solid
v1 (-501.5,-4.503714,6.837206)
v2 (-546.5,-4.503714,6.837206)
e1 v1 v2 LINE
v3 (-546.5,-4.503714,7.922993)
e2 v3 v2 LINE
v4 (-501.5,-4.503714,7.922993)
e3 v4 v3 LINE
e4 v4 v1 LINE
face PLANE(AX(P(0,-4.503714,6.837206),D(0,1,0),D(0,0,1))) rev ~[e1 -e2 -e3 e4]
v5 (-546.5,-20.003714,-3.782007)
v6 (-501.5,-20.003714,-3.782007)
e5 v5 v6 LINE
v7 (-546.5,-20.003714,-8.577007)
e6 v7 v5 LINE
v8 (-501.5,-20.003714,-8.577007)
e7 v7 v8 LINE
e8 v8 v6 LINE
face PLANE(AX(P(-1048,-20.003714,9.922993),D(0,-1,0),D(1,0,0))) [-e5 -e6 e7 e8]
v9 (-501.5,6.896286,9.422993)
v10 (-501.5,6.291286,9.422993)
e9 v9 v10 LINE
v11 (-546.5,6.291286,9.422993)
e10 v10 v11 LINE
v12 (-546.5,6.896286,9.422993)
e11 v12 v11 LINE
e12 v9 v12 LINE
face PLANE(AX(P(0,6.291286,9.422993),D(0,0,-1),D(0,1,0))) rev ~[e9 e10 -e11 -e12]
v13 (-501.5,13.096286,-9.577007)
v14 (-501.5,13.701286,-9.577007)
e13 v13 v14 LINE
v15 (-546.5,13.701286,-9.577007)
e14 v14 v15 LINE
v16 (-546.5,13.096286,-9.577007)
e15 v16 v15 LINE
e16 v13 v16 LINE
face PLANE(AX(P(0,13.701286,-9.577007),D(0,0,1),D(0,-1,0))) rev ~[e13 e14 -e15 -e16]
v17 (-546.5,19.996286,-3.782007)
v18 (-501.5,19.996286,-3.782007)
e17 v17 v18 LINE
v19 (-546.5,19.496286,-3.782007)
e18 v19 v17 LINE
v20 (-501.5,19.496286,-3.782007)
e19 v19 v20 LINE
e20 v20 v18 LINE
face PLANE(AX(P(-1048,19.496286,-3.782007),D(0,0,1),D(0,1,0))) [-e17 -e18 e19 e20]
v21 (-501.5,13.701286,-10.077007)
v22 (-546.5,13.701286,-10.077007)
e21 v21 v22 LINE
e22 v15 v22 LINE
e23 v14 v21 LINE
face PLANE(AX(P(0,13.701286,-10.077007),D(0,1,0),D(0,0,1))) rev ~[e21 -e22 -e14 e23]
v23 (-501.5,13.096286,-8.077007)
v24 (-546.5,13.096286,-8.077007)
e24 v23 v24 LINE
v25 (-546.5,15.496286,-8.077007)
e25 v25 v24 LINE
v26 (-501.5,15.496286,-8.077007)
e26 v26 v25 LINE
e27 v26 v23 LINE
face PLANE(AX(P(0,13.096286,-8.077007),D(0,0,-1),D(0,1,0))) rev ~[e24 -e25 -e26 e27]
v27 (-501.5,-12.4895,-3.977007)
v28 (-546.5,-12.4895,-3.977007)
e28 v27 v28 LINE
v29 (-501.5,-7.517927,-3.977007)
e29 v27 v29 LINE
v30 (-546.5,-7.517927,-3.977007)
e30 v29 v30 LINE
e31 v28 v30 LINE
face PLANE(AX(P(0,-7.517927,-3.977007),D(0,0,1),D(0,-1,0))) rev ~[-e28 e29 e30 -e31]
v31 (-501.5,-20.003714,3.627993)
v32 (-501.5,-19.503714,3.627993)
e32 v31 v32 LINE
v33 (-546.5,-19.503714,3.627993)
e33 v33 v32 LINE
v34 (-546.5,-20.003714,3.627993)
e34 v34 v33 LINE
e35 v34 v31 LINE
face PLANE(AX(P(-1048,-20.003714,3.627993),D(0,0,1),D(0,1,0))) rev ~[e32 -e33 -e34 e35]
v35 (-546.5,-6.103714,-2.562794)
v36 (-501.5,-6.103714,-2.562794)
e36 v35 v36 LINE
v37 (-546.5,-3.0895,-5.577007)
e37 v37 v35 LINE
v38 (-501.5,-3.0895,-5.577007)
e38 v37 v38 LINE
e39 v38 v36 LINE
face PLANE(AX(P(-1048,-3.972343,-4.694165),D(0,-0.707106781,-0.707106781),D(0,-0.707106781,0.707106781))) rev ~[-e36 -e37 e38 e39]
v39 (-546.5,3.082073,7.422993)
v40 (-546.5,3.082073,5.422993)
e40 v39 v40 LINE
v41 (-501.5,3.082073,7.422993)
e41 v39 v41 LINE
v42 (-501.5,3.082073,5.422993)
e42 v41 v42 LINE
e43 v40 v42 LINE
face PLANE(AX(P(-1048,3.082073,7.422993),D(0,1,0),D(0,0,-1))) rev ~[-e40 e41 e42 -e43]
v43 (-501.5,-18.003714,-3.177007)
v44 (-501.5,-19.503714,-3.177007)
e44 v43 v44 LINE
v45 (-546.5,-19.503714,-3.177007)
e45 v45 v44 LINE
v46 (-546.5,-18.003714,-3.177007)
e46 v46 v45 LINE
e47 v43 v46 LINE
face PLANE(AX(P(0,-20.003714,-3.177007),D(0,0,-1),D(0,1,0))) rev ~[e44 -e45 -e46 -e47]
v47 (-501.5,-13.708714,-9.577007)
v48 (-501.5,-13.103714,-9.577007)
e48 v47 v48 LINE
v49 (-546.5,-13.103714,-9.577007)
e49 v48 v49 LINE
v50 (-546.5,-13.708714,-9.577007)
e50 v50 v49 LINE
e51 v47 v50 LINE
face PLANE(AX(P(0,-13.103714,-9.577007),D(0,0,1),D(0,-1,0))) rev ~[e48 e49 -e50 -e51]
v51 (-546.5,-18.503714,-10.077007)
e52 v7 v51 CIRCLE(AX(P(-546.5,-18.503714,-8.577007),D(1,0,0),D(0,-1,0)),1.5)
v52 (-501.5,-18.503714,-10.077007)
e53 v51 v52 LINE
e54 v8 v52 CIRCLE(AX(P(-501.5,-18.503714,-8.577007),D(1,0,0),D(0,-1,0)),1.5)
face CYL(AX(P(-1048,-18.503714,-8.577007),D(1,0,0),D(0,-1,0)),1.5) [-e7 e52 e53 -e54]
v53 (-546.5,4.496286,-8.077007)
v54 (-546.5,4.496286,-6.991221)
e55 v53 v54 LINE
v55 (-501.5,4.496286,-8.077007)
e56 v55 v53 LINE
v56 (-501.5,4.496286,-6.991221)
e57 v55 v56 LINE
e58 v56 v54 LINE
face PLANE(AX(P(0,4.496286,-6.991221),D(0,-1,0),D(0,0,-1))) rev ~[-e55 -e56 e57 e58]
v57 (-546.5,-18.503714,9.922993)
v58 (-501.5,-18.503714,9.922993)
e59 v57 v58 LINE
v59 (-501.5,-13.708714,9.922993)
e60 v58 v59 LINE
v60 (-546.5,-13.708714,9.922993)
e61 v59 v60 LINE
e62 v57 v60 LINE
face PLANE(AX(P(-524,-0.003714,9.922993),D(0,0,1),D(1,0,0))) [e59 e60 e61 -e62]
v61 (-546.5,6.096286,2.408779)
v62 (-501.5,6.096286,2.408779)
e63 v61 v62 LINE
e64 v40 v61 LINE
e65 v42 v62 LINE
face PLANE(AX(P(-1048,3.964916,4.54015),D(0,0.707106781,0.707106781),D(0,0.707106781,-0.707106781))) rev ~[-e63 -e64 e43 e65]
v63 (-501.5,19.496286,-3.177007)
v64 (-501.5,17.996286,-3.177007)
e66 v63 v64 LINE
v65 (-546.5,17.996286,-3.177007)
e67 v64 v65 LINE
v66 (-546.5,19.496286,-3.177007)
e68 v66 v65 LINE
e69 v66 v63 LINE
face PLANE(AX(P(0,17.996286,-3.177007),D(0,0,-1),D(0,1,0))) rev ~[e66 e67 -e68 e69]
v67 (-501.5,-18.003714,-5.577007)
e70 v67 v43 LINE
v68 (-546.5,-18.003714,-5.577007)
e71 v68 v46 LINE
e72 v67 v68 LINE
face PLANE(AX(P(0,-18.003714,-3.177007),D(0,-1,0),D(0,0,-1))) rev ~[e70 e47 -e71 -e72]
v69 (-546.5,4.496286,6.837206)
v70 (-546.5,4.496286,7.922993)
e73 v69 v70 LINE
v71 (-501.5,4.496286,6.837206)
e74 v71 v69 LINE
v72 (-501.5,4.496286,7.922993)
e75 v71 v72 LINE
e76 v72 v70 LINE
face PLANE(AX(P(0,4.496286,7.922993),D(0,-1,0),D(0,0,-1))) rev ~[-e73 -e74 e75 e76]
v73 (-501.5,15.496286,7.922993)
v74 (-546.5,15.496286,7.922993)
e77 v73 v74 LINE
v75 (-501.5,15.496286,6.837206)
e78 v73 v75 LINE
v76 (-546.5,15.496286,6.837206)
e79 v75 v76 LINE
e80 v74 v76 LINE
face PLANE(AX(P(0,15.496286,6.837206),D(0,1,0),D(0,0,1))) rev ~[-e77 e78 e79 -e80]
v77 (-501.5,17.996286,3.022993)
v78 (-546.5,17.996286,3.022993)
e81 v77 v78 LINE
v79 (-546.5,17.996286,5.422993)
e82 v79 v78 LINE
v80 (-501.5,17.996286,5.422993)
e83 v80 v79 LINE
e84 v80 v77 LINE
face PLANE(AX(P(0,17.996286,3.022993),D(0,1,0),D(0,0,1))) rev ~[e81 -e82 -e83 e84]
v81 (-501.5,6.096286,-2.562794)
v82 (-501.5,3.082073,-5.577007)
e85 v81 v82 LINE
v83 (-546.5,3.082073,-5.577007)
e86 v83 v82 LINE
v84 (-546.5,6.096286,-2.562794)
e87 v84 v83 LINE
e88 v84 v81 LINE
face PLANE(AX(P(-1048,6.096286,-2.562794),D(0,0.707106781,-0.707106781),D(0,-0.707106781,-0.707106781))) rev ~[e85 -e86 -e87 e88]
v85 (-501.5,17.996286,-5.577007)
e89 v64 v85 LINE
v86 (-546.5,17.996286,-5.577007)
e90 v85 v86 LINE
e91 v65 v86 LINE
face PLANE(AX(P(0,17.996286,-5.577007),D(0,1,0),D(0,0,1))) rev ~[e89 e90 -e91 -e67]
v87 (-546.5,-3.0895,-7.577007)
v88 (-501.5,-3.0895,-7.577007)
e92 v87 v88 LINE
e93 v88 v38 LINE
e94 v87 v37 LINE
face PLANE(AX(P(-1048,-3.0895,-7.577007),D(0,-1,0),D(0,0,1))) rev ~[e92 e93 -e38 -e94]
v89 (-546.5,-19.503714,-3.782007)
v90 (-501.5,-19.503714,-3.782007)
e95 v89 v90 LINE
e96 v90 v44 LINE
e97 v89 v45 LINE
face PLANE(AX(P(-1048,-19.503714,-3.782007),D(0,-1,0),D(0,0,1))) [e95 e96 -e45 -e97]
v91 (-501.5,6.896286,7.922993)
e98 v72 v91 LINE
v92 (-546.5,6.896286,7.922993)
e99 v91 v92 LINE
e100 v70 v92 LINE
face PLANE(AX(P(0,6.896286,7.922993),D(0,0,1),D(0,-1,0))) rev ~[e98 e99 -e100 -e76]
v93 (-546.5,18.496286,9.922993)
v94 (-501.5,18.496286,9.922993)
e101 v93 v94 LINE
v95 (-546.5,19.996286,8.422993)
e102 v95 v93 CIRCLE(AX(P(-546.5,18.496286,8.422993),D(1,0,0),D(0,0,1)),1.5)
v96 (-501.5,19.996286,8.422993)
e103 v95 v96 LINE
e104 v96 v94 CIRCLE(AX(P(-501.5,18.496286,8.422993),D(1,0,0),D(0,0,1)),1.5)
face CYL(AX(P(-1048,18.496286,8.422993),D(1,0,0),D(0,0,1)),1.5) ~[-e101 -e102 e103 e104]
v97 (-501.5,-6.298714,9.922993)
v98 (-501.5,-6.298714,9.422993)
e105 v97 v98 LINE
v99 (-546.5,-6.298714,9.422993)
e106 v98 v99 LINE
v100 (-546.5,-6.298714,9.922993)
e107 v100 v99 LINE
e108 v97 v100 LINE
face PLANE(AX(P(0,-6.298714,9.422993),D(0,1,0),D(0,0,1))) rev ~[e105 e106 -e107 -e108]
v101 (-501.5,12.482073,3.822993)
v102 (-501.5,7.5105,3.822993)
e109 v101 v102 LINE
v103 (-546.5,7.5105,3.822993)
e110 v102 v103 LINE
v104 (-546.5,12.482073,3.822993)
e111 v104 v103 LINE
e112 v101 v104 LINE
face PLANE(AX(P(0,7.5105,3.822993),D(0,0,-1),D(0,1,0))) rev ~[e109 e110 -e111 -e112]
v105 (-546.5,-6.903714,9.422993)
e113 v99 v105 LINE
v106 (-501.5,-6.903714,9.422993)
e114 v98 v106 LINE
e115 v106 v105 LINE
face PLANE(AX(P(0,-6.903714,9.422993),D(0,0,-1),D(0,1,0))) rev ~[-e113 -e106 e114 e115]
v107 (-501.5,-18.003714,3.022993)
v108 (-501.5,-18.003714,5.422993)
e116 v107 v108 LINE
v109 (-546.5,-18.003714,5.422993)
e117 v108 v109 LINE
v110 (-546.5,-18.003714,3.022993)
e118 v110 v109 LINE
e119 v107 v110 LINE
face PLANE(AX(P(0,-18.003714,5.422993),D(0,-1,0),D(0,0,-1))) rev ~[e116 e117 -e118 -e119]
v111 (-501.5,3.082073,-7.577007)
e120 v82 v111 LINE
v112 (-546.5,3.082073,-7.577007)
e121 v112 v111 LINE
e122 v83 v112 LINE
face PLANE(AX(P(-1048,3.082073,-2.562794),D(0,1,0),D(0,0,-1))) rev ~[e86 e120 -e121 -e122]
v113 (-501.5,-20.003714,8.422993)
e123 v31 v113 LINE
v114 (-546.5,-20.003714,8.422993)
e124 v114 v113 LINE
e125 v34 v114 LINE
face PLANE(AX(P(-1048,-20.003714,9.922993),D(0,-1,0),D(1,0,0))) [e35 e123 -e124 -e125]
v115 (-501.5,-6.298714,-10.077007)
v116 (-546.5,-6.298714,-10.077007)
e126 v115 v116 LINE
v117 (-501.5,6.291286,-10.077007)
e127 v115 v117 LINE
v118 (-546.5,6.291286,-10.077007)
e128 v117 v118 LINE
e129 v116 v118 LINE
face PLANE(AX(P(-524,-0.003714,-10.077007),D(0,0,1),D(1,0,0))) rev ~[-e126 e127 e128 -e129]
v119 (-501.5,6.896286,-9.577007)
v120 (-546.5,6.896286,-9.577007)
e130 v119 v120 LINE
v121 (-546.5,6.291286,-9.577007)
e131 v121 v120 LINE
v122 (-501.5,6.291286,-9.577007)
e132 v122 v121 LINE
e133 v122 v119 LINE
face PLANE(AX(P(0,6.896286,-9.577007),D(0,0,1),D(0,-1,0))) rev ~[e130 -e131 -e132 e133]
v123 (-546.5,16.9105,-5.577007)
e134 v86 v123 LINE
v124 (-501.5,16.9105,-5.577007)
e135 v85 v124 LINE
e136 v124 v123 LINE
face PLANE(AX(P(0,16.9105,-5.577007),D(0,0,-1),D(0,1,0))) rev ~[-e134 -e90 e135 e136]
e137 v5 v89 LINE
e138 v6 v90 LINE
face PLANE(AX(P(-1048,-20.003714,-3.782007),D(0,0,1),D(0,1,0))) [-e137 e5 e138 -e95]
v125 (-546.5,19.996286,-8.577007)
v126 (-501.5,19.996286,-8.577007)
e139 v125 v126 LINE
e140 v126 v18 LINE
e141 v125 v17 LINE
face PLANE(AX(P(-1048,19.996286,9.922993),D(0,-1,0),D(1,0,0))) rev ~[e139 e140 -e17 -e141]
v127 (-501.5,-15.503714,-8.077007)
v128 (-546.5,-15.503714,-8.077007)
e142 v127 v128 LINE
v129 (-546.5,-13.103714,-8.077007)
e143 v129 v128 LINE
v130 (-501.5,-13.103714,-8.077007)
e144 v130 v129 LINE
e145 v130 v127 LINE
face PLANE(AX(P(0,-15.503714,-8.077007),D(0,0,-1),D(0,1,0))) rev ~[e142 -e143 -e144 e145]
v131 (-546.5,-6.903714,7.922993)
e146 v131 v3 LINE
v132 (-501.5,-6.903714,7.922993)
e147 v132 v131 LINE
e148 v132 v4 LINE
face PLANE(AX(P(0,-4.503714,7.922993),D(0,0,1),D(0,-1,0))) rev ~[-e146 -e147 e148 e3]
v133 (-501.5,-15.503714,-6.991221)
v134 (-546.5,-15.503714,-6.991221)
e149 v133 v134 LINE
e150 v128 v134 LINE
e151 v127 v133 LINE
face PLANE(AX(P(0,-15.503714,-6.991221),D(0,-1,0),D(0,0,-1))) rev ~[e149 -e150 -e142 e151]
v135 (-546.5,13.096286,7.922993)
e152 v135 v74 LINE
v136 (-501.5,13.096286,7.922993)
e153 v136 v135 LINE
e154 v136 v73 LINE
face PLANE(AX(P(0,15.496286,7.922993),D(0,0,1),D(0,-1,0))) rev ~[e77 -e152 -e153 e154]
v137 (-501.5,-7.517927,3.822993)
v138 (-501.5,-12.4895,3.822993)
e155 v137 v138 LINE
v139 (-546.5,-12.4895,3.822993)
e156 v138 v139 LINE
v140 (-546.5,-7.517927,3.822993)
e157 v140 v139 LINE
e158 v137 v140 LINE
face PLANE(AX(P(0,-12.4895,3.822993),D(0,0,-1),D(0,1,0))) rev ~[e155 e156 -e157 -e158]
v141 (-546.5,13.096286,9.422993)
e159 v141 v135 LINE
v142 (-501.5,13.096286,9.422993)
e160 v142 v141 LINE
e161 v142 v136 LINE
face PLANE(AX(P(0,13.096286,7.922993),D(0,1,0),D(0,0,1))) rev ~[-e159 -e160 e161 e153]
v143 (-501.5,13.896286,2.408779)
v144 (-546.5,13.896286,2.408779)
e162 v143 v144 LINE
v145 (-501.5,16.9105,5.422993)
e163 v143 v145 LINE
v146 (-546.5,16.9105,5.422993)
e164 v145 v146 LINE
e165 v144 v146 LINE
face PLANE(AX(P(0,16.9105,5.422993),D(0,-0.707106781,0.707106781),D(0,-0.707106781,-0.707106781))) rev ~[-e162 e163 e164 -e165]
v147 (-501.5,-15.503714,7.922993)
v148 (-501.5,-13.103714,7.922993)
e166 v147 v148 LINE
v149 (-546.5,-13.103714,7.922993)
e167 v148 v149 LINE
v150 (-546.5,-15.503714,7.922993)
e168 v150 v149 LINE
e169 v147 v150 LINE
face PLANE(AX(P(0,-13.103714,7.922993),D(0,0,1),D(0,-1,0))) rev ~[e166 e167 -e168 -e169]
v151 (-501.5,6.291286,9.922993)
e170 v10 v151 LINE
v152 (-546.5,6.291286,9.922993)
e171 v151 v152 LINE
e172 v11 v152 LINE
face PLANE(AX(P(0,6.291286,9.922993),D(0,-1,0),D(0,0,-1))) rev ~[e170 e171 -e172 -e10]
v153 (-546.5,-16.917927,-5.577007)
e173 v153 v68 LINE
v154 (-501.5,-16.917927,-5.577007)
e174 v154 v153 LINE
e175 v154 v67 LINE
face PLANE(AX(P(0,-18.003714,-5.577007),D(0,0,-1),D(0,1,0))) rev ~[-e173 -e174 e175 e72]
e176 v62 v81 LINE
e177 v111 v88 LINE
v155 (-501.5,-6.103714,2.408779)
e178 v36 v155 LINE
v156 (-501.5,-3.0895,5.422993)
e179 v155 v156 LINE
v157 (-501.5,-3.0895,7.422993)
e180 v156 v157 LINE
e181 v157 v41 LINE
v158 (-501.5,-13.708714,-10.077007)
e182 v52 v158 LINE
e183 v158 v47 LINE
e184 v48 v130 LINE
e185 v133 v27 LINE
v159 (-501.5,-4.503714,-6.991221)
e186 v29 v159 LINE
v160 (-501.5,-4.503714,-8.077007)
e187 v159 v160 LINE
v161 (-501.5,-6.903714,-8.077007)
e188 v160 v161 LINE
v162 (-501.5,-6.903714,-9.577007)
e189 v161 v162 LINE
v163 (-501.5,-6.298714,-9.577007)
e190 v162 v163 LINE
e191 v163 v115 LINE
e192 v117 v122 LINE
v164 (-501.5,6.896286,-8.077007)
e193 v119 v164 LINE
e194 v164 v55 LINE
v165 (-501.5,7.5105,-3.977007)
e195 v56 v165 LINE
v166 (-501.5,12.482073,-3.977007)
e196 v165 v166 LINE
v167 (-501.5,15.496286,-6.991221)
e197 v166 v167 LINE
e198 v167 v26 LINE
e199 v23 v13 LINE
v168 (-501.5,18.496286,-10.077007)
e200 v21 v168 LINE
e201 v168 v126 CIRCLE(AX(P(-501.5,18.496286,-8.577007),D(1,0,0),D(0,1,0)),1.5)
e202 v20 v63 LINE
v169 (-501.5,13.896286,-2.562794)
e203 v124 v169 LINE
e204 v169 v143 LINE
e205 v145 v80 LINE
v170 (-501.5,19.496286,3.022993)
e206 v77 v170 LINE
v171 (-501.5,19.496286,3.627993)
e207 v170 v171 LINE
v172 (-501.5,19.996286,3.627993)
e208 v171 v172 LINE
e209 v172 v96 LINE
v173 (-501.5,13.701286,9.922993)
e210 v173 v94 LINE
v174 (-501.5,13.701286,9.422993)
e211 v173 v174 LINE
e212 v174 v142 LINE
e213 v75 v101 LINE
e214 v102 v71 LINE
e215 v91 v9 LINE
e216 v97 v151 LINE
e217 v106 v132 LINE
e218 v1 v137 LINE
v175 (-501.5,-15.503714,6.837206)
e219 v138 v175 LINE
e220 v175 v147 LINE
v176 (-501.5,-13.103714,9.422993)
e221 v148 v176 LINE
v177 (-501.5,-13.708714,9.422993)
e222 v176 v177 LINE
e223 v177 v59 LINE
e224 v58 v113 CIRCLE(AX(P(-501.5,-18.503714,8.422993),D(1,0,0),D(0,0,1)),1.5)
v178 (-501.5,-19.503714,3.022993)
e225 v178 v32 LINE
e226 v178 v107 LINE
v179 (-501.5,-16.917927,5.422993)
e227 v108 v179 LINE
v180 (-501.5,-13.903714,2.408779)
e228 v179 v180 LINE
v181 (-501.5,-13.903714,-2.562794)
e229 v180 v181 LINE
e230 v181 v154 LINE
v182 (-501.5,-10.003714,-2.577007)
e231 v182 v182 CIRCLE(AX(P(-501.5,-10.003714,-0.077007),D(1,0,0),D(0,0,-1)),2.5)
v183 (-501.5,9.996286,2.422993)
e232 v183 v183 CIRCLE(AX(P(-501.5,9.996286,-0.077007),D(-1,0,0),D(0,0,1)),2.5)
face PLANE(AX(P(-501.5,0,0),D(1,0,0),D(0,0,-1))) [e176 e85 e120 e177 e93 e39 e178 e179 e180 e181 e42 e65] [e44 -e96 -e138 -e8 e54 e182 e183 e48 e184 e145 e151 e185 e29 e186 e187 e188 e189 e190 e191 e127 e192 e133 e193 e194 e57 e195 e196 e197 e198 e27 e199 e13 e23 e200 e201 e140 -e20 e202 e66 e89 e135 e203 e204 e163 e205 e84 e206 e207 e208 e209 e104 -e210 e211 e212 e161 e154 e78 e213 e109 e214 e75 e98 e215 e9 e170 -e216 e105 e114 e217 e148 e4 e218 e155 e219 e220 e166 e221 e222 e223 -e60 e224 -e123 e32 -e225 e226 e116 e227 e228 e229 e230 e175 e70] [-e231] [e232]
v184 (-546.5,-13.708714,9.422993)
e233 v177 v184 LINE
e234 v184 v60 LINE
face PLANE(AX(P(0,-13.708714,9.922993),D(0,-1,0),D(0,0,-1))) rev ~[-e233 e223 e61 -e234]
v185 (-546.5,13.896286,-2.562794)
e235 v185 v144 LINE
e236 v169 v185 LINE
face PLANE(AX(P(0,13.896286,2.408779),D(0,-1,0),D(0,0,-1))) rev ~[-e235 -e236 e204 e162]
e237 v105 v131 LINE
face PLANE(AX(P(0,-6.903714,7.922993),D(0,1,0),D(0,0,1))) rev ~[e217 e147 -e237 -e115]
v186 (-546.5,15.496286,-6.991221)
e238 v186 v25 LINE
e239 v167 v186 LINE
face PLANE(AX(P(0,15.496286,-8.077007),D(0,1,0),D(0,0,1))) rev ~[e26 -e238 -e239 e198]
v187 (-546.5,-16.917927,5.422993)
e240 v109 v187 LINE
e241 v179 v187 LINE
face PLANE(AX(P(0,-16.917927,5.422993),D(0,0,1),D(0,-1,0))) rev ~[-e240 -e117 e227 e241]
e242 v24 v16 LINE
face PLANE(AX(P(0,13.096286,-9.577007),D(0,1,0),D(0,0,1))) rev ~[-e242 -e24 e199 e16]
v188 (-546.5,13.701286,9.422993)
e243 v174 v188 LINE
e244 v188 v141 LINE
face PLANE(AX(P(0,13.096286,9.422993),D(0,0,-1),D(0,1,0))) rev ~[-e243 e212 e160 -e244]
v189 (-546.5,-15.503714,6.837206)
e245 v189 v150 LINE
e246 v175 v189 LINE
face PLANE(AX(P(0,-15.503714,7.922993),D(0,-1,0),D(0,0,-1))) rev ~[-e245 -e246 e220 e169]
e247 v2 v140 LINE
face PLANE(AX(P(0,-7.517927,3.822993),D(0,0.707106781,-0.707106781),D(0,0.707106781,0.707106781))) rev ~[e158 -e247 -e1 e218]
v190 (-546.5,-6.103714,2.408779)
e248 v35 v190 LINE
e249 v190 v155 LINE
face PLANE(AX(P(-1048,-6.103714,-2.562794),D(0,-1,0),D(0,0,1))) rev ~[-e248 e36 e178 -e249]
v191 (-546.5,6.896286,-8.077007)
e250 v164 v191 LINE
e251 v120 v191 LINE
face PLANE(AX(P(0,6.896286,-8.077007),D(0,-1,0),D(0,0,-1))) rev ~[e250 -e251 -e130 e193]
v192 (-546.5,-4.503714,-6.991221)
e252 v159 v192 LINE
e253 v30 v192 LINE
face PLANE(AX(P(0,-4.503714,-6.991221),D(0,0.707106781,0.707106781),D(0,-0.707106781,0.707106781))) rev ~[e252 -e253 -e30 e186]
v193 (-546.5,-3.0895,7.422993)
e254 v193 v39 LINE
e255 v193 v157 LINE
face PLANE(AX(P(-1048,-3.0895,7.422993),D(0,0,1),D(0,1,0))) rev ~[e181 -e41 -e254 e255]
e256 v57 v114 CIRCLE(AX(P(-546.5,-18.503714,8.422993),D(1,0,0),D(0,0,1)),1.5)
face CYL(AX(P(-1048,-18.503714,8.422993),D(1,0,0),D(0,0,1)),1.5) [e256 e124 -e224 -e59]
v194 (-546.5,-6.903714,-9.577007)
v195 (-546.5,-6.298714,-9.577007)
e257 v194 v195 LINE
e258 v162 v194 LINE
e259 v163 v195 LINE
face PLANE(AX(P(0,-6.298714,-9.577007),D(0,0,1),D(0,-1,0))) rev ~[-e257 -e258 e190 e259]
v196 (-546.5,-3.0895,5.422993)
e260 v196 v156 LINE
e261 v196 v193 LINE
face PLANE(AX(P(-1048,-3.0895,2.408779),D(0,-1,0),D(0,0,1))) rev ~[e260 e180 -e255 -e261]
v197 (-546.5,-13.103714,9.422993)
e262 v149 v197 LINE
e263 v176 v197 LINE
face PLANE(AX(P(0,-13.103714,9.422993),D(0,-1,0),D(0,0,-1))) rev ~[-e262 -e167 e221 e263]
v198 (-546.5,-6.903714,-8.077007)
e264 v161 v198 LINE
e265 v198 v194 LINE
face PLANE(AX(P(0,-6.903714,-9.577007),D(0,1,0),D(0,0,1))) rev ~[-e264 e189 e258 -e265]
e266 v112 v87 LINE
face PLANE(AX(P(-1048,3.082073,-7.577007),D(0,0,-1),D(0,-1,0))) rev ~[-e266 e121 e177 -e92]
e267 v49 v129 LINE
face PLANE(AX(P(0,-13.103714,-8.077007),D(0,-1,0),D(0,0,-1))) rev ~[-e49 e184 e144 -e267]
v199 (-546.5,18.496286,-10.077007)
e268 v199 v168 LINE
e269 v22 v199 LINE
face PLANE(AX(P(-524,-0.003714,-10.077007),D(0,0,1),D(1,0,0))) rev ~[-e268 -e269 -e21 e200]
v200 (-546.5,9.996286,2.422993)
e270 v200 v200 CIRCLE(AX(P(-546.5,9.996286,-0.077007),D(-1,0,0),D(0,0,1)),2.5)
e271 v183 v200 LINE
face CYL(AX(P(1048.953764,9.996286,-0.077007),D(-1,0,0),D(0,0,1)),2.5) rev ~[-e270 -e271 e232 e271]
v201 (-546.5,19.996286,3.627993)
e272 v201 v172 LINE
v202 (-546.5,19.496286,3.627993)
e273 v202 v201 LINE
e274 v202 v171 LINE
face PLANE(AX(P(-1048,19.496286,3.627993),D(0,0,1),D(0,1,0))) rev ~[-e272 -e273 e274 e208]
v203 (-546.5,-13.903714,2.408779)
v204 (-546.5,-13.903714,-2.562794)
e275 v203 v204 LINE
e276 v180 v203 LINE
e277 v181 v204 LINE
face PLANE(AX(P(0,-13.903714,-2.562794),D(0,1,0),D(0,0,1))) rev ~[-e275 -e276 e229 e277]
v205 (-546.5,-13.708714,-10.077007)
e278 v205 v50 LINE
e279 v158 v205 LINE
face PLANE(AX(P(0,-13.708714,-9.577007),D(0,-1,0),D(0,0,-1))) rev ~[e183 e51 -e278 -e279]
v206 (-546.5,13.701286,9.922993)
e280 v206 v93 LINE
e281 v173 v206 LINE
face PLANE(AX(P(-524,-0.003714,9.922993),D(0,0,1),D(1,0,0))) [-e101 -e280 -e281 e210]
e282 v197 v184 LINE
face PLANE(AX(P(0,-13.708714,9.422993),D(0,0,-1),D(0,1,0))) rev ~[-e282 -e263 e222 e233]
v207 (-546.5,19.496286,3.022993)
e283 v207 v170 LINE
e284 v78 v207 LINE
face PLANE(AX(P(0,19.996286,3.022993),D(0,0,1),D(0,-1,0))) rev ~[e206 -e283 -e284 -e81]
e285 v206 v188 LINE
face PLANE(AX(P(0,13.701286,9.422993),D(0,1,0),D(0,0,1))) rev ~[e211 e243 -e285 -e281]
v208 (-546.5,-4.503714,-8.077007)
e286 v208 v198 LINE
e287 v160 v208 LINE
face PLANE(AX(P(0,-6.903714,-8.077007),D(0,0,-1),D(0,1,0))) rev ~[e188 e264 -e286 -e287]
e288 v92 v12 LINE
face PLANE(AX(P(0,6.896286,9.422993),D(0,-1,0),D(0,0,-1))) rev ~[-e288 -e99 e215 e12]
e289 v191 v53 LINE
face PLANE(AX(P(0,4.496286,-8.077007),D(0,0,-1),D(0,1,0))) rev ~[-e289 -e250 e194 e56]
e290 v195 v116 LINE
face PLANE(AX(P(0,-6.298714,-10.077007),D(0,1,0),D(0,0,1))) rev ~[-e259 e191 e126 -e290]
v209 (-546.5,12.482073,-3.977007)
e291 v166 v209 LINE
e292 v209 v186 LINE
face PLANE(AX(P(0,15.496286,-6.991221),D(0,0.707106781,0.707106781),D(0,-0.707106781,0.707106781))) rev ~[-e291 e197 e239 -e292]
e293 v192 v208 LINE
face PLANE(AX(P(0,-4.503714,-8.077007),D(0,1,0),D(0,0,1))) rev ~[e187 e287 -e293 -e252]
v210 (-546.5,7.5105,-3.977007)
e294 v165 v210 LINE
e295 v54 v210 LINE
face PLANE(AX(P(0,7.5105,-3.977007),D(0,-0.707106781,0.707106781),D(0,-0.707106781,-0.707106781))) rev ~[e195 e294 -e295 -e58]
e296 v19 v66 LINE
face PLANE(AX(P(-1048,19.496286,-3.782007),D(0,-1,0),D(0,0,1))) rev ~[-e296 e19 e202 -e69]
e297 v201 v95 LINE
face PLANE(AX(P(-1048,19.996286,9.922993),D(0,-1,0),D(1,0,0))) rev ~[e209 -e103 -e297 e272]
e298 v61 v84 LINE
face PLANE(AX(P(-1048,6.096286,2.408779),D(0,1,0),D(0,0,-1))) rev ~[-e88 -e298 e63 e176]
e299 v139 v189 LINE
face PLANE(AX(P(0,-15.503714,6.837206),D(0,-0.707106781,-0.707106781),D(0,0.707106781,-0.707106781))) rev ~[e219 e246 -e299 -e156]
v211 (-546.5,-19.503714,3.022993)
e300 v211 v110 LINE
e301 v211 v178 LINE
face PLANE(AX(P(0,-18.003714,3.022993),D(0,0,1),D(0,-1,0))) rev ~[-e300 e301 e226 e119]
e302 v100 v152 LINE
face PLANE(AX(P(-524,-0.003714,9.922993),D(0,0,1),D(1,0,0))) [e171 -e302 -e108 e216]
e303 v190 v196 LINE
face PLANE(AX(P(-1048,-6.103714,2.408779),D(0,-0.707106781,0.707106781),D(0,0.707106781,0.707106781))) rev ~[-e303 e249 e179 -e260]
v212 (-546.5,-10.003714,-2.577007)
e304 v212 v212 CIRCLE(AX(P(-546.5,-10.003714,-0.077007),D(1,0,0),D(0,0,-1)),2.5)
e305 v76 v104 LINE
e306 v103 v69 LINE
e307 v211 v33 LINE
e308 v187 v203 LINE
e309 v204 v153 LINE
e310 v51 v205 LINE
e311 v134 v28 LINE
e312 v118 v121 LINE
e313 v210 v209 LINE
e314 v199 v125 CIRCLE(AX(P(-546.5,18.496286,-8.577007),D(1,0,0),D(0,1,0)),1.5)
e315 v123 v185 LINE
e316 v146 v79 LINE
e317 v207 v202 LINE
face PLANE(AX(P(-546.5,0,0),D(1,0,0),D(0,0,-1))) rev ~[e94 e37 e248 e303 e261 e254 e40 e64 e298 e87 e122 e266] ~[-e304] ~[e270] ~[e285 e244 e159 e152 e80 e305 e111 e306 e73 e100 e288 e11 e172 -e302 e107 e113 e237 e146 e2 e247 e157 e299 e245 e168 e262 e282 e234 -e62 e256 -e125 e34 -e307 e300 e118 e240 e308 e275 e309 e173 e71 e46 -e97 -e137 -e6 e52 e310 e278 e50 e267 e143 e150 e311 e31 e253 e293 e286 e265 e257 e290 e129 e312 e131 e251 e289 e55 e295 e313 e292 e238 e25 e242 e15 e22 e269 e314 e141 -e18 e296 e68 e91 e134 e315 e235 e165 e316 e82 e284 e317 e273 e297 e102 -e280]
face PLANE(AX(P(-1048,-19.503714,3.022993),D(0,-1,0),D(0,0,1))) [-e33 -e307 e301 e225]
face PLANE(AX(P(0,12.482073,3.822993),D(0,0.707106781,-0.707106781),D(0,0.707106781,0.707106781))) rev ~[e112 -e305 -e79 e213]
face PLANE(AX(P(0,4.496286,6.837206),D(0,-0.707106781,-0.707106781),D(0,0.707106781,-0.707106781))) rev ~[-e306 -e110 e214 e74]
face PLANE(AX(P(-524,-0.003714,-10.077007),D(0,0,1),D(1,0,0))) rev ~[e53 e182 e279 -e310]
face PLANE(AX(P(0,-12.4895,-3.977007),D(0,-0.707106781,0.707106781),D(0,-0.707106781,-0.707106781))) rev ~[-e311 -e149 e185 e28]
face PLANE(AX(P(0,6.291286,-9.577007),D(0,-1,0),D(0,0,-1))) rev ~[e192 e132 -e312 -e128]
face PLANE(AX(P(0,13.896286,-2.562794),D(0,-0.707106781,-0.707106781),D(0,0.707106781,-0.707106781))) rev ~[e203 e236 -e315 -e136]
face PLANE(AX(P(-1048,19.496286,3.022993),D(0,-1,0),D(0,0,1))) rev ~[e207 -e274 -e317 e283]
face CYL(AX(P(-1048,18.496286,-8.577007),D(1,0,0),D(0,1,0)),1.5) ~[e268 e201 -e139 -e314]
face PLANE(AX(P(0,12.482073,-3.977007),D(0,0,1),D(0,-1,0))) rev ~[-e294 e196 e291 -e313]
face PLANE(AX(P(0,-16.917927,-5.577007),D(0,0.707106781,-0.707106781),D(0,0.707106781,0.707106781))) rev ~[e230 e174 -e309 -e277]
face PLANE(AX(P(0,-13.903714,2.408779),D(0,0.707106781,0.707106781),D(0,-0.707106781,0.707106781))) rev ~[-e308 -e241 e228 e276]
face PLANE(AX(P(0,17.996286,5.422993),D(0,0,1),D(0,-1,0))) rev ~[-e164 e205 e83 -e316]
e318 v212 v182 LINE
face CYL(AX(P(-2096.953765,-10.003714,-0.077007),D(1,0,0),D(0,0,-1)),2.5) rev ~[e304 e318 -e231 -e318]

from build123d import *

# Parameters (mm, degrees)
SKETCH_1_W                = 1048
SKETCH_1_H                = 40
EXTRUDE_1_DEPTH           = 20
CUT_EXTRUDE_1_DEPTH       = 1049.239330799
CUT_EXTRUDE_2_REACH       = 1050.811
CUT_EXTRUDE_3_REACH       = 1050.239
CUT_EXTRUDE_3_END_RADIUS  = 5
SKETCH_4_W                = 0.605
SKETCH_4_H                = 0.5
CUT_EXTRUDE_4_DEPTH       = 1049.239330799
CUT_EXTRUDE_5_DEPTH       = 1049.737119623
CUT_EXTRUDE_6_REACH       = 1050.239
CUT_EXTRUDE_6_END_RADIUS  = 5
SKETCH_7_W                = 0.605
SKETCH_7_H                = 0.5
CUT_EXTRUDE_7_REACH       = 1050.811
CUT_EXTRUDE_8_REACH       = 1050.239
CUT_EXTRUDE_8_END_RADIUS  = 5
SKETCH_9_W                = 0.605
SKETCH_9_H                = 0.5
CUT_EXTRUDE_9_REACH       = 1050.239
CUT_EXTRUDE_9_END_RADIUS  = 5
SKETCH_10_W               = 0.605
SKETCH_10_H               = 0.5
CUT_EXTRUDE_10_DEPTH      = 1049.737119623
CUT_EXTRUDE_11_REACH      = 1050.239
CUT_EXTRUDE_11_END_RADIUS = 5
SKETCH_12_W               = 0.605
SKETCH_12_H               = 0.5
CUT_EXTRUDE_12_DEPTH      = 1049.239330799
CUT_EXTRUDE_13_DEPTH      = 1049.239330799
CUT_EXTRUDE_14_REACH      = 1050.239
CUT_EXTRUDE_14_END_RADIUS = 5
SKETCH_15_W               = 0.605
SKETCH_15_H               = 0.5
CUT_EXTRUDE_15_REACH      = 1050.239
CUT_EXTRUDE_15_END_RADIUS = 5
SKETCH_16_W               = 0.605
SKETCH_16_H               = 0.5
CUT_EXTRUDE_16_DEPTH      = 1049.239330799
CUT_EXTRUDE_17_DEPTH      = 1049.239330799
CUT_EXTRUDE_18_REACH      = 1050.239
CUT_EXTRUDE_18_END_RADIUS = 5
SKETCH_19_W               = 0.605
SKETCH_19_H               = 0.5
CUT_EXTRUDE_19_DEPTH      = 1049.239330799
DRAFT_1_ANGLE             = 45
DRAFT_2_ANGLE             = 45
SKETCH_21_W               = 5
SKETCH_21_H               = 5.49122085
SKETCH_22_W               = 5
SKETCH_22_H               = 5.49864809
HOLE_WIZARD_5_0_5_1_D     = 4.999999999
HOLE_WIZARD_5_0_5_2_D     = 4.999999999
FILLET_1_R                = 1.5
SKETCH_27_W               = 25
SKETCH_27_H               = 45
CUT_EXTRUDE_21_DEPTH      = 501.5
CUT_EXTRUDE_START         = -1048
SKETCH_28_W               = 25
SKETCH_28_H               = 45
CUT_EXTRUDE_22_DEPTH      = 501.5


with BuildPart() as part:
    # 草图1 → 凸台-拉伸1 (new body)
    with BuildSketch(Plane.XY.offset(9.92299271)):
        with Locations((-524, -0.00371362)):
            Rectangle(SKETCH_1_W, SKETCH_1_H)
    extrude(amount=-EXTRUDE_1_DEPTH)

    # 草图2 → 切除-拉伸1 (cut, through all)
    with BuildSketch(Plane(origin=(0, 0, 0), x_dir=(0, 0, -1), z_dir=(1, 0, 0))):
        Polygon((-3.02299271, 19.99628638), (-3.02299271, 17.99628638), (-5.42299271, 17.99628638), (-5.42299271, 16.91049994), (-2.40877915, 13.89628638), (2.56279373, 13.89628638), (5.57700729, 16.91049994), (5.57700729, 17.99628638), (3.17700729, 17.99628638), (3.17700729, 19.99628638), align=None)
    extrude(amount=-CUT_EXTRUDE_1_DEPTH, mode=Mode.SUBTRACT)

    # 草图3 → 切除-拉伸2 (cut, up to next)
    with BuildSketch(Plane(origin=(0, 19.99628638, 0), x_dir=(-1, 0, 0), z_dir=(0, 1, 0)), mode=Mode.PRIVATE) as cut_extrude_2_sk1:
        with BuildLine():
            Line((9.017348236, 3.02299271), (16.982651764, 3.02299271))
            ThreePointArc((16.982651764, 3.02299271), (13, 5), (9.017348236, 3.02299271))
        make_face()
    cut_extrude_2_tool1 = extrude(cut_extrude_2_sk1.sketch, amount=-CUT_EXTRUDE_2_REACH, mode=Mode.PRIVATE) & part.part
    add(cut_extrude_2_tool1.solids().sort_by_distance((-13, 19.996286, 3.828944))[0], mode=Mode.SUBTRACT)

    # 切除-拉伸3: up to this cylinder (the profile starts outside it)
    cut_extrude_3_end = Plane(origin=(-13, 19.746286, 0), z_dir=(0, 1, 0)) * Cylinder(CUT_EXTRUDE_3_END_RADIUS, 2111.478, mode=Mode.PRIVATE)
    # 草图4 → 切除-拉伸3 (cut, up to the surface)
    with BuildSketch(Plane.ZY.offset(1048), mode=Mode.PRIVATE) as cut_extrude_3_sk1:
        with Locations((3.32549271, 19.74628638)):
            Rectangle(SKETCH_4_W, SKETCH_4_H)
    cut_extrude_3_tool1 = extrude(cut_extrude_3_sk1.sketch, amount=-CUT_EXTRUDE_3_REACH, mode=Mode.PRIVATE) - cut_extrude_3_end
    add(cut_extrude_3_tool1.solids().sort_by_distance((-1048, 19.746286, 3.325493))[0], mode=Mode.SUBTRACT)

    # 草图5 → 切除-拉伸4 (cut, through all)
    with BuildSketch(Plane(origin=(0, 0, 0), x_dir=(0, 0, -1), z_dir=(1, 0, 0))):
        Polygon((-3.02299271, -20.00371362), (3.17700729, -20.00371362), (3.17700729, -18.00371362), (5.57700729, -18.00371362), (5.57700729, -16.91792718), (2.56279373, -13.90371362), (-2.40877915, -13.90371362), (-5.42299271, -16.91792718), (-5.42299271, -18.00371362), (-3.02299271, -18.00371362), align=None)
    extrude(amount=-CUT_EXTRUDE_4_DEPTH, mode=Mode.SUBTRACT)

    # 草图6 → 切除-拉伸5 (cut, through all)
    with BuildSketch(Plane(origin=(0, -18.00371362, 0), x_dir=(-1, 0, 0), z_dir=(0, 1, 0))):
        with BuildLine():
            Line((9.017348236, 3.02299271), (16.982651764, 3.02299271))
            ThreePointArc((16.982651764, 3.02299271), (13, 5), (9.017348236, 3.02299271))
        make_face()
    extrude(amount=-CUT_EXTRUDE_5_DEPTH, mode=Mode.SUBTRACT)

    # 切除-拉伸6: up to this cylinder (the profile starts outside it)
    cut_extrude_6_end = Plane(origin=(-13, -19.753714, 0), z_dir=(0, 1, 0)) * Cylinder(CUT_EXTRUDE_6_END_RADIUS, 2111.478, mode=Mode.PRIVATE)
    # 草图7 → 切除-拉伸6 (cut, up to the surface)
    with BuildSketch(Plane.ZY.offset(1048), mode=Mode.PRIVATE) as cut_extrude_6_sk1:
        with Locations((3.32549271, -19.75371362)):
            Rectangle(SKETCH_7_W, SKETCH_7_H)
    cut_extrude_6_tool1 = extrude(cut_extrude_6_sk1.sketch, amount=-CUT_EXTRUDE_6_REACH, mode=Mode.PRIVATE) - cut_extrude_6_end
    add(cut_extrude_6_tool1.solids().sort_by_distance((-1048, -19.753714, 3.325493))[0], mode=Mode.SUBTRACT)

    # 草图8 → 切除-拉伸7 (cut, up to next)
    with BuildSketch(Plane.XZ.offset(20.00371362), mode=Mode.PRIVATE) as cut_extrude_7_sk1:
        with BuildLine():
            Line((-9.139090175, -3.17700729), (-16.860909825, -3.17700729))
            ThreePointArc((-16.860909825, -3.17700729), (-13, -5), (-9.139090175, -3.17700729))
        make_face()
    cut_extrude_7_tool1 = extrude(cut_extrude_7_sk1.sketch, amount=-CUT_EXTRUDE_7_REACH, mode=Mode.PRIVATE) & part.part
    add(cut_extrude_7_tool1.solids().sort_by_distance((-13, -20.003714, -3.918953))[0], mode=Mode.SUBTRACT)

    # 切除-拉伸8: up to this cylinder (the profile starts outside it)
    cut_extrude_8_end = Plane(origin=(-13, -19.753714, 0), z_dir=(0, -1, 0)) * Cylinder(CUT_EXTRUDE_8_END_RADIUS, 2111.478, mode=Mode.PRIVATE)
    # 草图9 → 切除-拉伸8 (cut, up to the surface)
    with BuildSketch(Plane.ZY.offset(1048), mode=Mode.PRIVATE) as cut_extrude_8_sk1:
        with Locations((-3.47950729, -19.75371362)):
            Rectangle(SKETCH_9_W, SKETCH_9_H)
    cut_extrude_8_tool1 = extrude(cut_extrude_8_sk1.sketch, amount=-CUT_EXTRUDE_8_REACH, mode=Mode.PRIVATE) - cut_extrude_8_end
    add(cut_extrude_8_tool1.solids().sort_by_distance((-1048, -19.753714, -3.479507))[0], mode=Mode.SUBTRACT)

    # 切除-拉伸9: up to this cylinder (the profile starts outside it)
    cut_extrude_9_end = Plane(origin=(-13, 19.746286, 0), z_dir=(0, 1, 0)) * Cylinder(CUT_EXTRUDE_9_END_RADIUS, 2111.478, mode=Mode.PRIVATE)
    # 草图10 → 切除-拉伸9 (cut, up to the surface)
    with BuildSketch(Plane(origin=(0, 0, 0), x_dir=(0, 0, -1), z_dir=(1, 0, 0)), mode=Mode.PRIVATE) as cut_extrude_9_sk1:
        with Locations((-3.32549271, 19.74628638)):
            Rectangle(SKETCH_10_W, SKETCH_10_H)
    cut_extrude_9_tool1 = extrude(cut_extrude_9_sk1.sketch, amount=-CUT_EXTRUDE_9_REACH, mode=Mode.PRIVATE) - cut_extrude_9_end
    add(cut_extrude_9_tool1.solids().sort_by_distance((0, 19.746286, 3.325493))[0], mode=Mode.SUBTRACT)

    # 草图11 → 切除-拉伸10 (cut, through all)
    with BuildSketch(Plane.XZ.offset(-17.99628638)):
        with BuildLine():
            Line((-9.139090175, -3.17700729), (-16.860909825, -3.17700729))
            ThreePointArc((-16.860909825, -3.17700729), (-13, -5), (-9.139090175, -3.17700729))
        make_face()
    extrude(amount=-CUT_EXTRUDE_10_DEPTH, mode=Mode.SUBTRACT)

    # 切除-拉伸11: up to this cylinder (the profile starts outside it)
    cut_extrude_11_end = Plane(origin=(-13, 19.746286, 0), z_dir=(0, -1, 0)) * Cylinder(CUT_EXTRUDE_11_END_RADIUS, 2111.478, mode=Mode.PRIVATE)
    # 草图12 → 切除-拉伸11 (cut, up to the surface)
    with BuildSketch(Plane(origin=(0, 0, 0), x_dir=(0, 0, -1), z_dir=(1, 0, 0)), mode=Mode.PRIVATE) as cut_extrude_11_sk1:
        with Locations((3.47950729, 19.74628638)):
            Rectangle(SKETCH_12_W, SKETCH_12_H)
    cut_extrude_11_tool1 = extrude(cut_extrude_11_sk1.sketch, amount=-CUT_EXTRUDE_11_REACH, mode=Mode.PRIVATE) - cut_extrude_11_end
    add(cut_extrude_11_tool1.solids().sort_by_distance((0, 19.746286, -3.479507))[0], mode=Mode.SUBTRACT)

    # 草图13 → 切除-拉伸12 (cut, through all)
    with BuildSketch(Plane(origin=(0, 0, 0), x_dir=(0, 0, -1), z_dir=(1, 0, 0))):
        Polygon((10.07700729, 13.70128638), (9.57700729, 13.70128638), (9.57700729, 13.09628638), (8.07700729, 13.09628638), (8.07700729, 15.49628638), (6.99122085, 15.49628638), (3.97700729, 12.48207282), (3.97700729, 7.51049994), (6.99122085, 4.49628638), (8.07700729, 4.49628638), (8.07700729, 6.89628638), (9.57700729, 6.89628638), (9.57700729, 6.29128638), (10.07700729, 6.29128638), align=None)
    extrude(amount=-CUT_EXTRUDE_12_DEPTH, mode=Mode.SUBTRACT)

    # 草图14 → 切除-拉伸13 (cut, through all)
    with BuildSketch(Plane(origin=(0, 0, 0), x_dir=(0, 0, -1), z_dir=(1, 0, 0))):
        Polygon((10.07700729, -6.29871362), (9.57700729, -6.29871362), (9.57700729, -6.90371362), (8.07700729, -6.90371362), (8.07700729, -4.50371362), (6.99122085, -4.50371362), (3.97700729, -7.51792718), (3.97700729, -12.48950006), (6.99122085, -15.50371362), (8.07700729, -15.50371362), (8.07700729, -13.10371362), (9.57700729, -13.10371362), (9.57700729, -13.70871362), (10.07700729, -13.70871362), align=None)
    extrude(amount=-CUT_EXTRUDE_13_DEPTH, mode=Mode.SUBTRACT)

    # 切除-拉伸14: up to this cylinder (the profile starts outside it)
    cut_extrude_14_end = Plane(origin=(-13, -19.753714, 0), z_dir=(0, -1, 0)) * Cylinder(CUT_EXTRUDE_14_END_RADIUS, 2111.478, mode=Mode.PRIVATE)
    # 草图15 → 切除-拉伸14 (cut, up to the surface)
    with BuildSketch(Plane(origin=(0, 0, 0), x_dir=(0, 0, -1), z_dir=(1, 0, 0)), mode=Mode.PRIVATE) as cut_extrude_14_sk1:
        with Locations((3.47950729, -19.75371362)):
            Rectangle(SKETCH_15_W, SKETCH_15_H)
    cut_extrude_14_tool1 = extrude(cut_extrude_14_sk1.sketch, amount=-CUT_EXTRUDE_14_REACH, mode=Mode.PRIVATE) - cut_extrude_14_end
    add(cut_extrude_14_tool1.solids().sort_by_distance((0, -19.753714, -3.479507))[0], mode=Mode.SUBTRACT)

    # 切除-拉伸15: up to this cylinder (the profile starts outside it)
    cut_extrude_15_end = Plane(origin=(-13, -19.753714, 0), z_dir=(0, 1, 0)) * Cylinder(CUT_EXTRUDE_15_END_RADIUS, 2111.478, mode=Mode.PRIVATE)
    # 草图16 → 切除-拉伸15 (cut, up to the surface)
    with BuildSketch(Plane(origin=(0, 0, 0), x_dir=(0, 0, -1), z_dir=(1, 0, 0)), mode=Mode.PRIVATE) as cut_extrude_15_sk1:
        with Locations((-3.32549271, -19.75371362)):
            Rectangle(SKETCH_16_W, SKETCH_16_H)
    cut_extrude_15_tool1 = extrude(cut_extrude_15_sk1.sketch, amount=-CUT_EXTRUDE_15_REACH, mode=Mode.PRIVATE) - cut_extrude_15_end
    add(cut_extrude_15_tool1.solids().sort_by_distance((0, -19.753714, 3.325493))[0], mode=Mode.SUBTRACT)

    # 草图17 → 切除-拉伸16 (cut, through all)
    with BuildSketch(Plane(origin=(0, 0, 0), x_dir=(0, 0, -1), z_dir=(1, 0, 0))):
        Polygon((-9.92299271, -13.70871362), (-9.42299271, -13.70871362), (-9.42299271, -13.10371362), (-7.92299271, -13.10371362), (-7.92299271, -15.50371362), (-6.83720627, -15.50371362), (-3.82299271, -12.48950006), (-3.82299271, -7.51792718), (-6.83720627, -4.50371362), (-7.92299271, -4.50371362), (-7.92299271, -6.90371362), (-9.42299271, -6.90371362), (-9.42299271, -6.29871362), (-9.92299271, -6.29871362), align=None)
    extrude(amount=-CUT_EXTRUDE_16_DEPTH, mode=Mode.SUBTRACT)

    # 草图18 → 切除-拉伸17 (cut, through all)
    with BuildSketch(Plane(origin=(0, 0, 0), x_dir=(0, 0, -1), z_dir=(1, 0, 0))):
        Polygon((-9.92299271, 6.29128638), (-9.42299271, 6.29128638), (-9.42299271, 6.89628638), (-7.92299271, 6.89628638), (-7.92299271, 4.49628638), (-6.83720627, 4.49628638), (-3.82299271, 7.51049994), (-3.82299271, 12.48207282), (-6.83720627, 15.49628638), (-7.92299271, 15.49628638), (-7.92299271, 13.09628638), (-9.42299271, 13.09628638), (-9.42299271, 13.70128638), (-9.92299271, 13.70128638), align=None)
    extrude(amount=-CUT_EXTRUDE_17_DEPTH, mode=Mode.SUBTRACT)

    # 切除-拉伸18: up to this cylinder (the profile starts outside it)
    cut_extrude_18_end = Plane(origin=(-13, 19.746286, 0), z_dir=(0, -1, 0)) * Cylinder(CUT_EXTRUDE_18_END_RADIUS, 2111.478, mode=Mode.PRIVATE)
    # 草图19 → 切除-拉伸18 (cut, up to the surface)
    with BuildSketch(Plane.ZY.offset(1048), mode=Mode.PRIVATE) as cut_extrude_18_sk1:
        with Locations((-3.47950729, 19.74628638)):
            Rectangle(SKETCH_19_W, SKETCH_19_H)
    cut_extrude_18_tool1 = extrude(cut_extrude_18_sk1.sketch, amount=-CUT_EXTRUDE_18_REACH, mode=Mode.PRIVATE) - cut_extrude_18_end
    add(cut_extrude_18_tool1.solids().sort_by_distance((-1048, 19.746286, -3.479507))[0], mode=Mode.SUBTRACT)

    # 草图20 → 切除-拉伸19 (cut, through all)
    with BuildSketch(Plane.ZY.offset(1048)):
        Polygon((2.40877915, -3.08950006), (7.42299271, -3.08950006), (7.42299271, 3.08207282), (2.40877915, 3.08207282), (2.40877915, 6.09628638), (-2.56279373, 6.09628638), (-2.56279373, 3.08207282), (-7.57700729, 3.08207282), (-7.57700729, -3.08950006), (-2.56279373, -3.08950006), (-2.56279373, -6.10371362), (2.40877915, -6.10371362), align=None)
    extrude(amount=-CUT_EXTRUDE_19_DEPTH, mode=Mode.SUBTRACT)

    # 拔模1
    draft_1_faces = [part.faces().sort_by_distance(p)[0] for p in [
        (-524, -4.59660684, 2.40877915),
        (-524, -4.59660684, -2.56279373),
    ]]
    draft(draft_1_faces, Plane(origin=(0, -6.10371362, -2.56279373), x_dir=(0, 0, 1), z_dir=(0, 1, 0)), DRAFT_1_ANGLE)

    # 拔模2
    draft_2_faces = [part.faces().sort_by_distance(p)[0] for p in [
        (-524, 4.5891796, -2.56279373),
        (-524, 4.5891796, 2.40877915),
    ]]
    draft(draft_2_faces, Plane(origin=(0, 6.09628638, 2.40877915), x_dir=(0, 0, -1), z_dir=(0, -1, 0)), DRAFT_2_ANGLE)

    # 草图21 → 切除-旋转1 (revolve, cut)
    with BuildSketch(Plane(origin=(0, 0, 0), x_dir=(-1, 0, 0), z_dir=(0, 0, -1)), mode=Mode.PRIVATE) as cut_revolve_1_sk:
        with Locations((10.5, 13.741896805)):
            Rectangle(SKETCH_21_W, SKETCH_21_H)
    revolve(cut_revolve_1_sk.sketch.rotate(Axis((-13, 10.99628638, 0), (0, 1, 0)), 229.871289748), axis=Axis((-13, 10.99628638, 0), (0, 1, 0)), mode=Mode.SUBTRACT)

    # 草图22 → 切除-旋转2 (revolve, cut)
    with BuildSketch(Plane.XY, mode=Mode.PRIVATE) as cut_revolve_2_sk:
        with Locations((-10.5, -13.745610425)):
            Rectangle(SKETCH_22_W, SKETCH_22_H)
    revolve(cut_revolve_2_sk.sketch.rotate(Axis((-13, -10.99628638, 0), (0, -1, 0)), 232.693190821), axis=Axis((-13, -10.99628638, 0), (0, -1, 0)), mode=Mode.SUBTRACT)

    # Ø5.0 (5) 直径孔1 (through all)
    with Locations(Plane(origin=(0, 0, 0), x_dir=(0, 0, -1), z_dir=(1, 0, 0))):
        with Locations((0.07700729, 9.99628638)):
            Hole(HOLE_WIZARD_5_0_5_1_D / 2)

    # Ø5.0 (5) 直径孔2 (through all)
    with Locations(Plane.ZY.offset(1048)):
        with Locations((-0.07700729, -10.00371362)):
            Hole(HOLE_WIZARD_5_0_5_2_D / 2)

    # 圆角1
    fillet_1_edges = [part.edges().sort_by_distance(p)[0] for p in [
        (-524, -20.00371362, -10.07700729),
        (-524, 19.99628638, -10.07700729),
        (-524, -20.00371362, 9.92299271),
        (-524, 19.99628638, 9.92299271),
    ]]
    fillet(fillet_1_edges, radius=FILLET_1_R)

    # 草图27 → 切除-拉伸21 (cut)
    with BuildSketch(Plane(origin=(0, 0, 0), x_dir=(0, 0, -1), z_dir=(1, 0, 0))):
        Rectangle(SKETCH_27_W, SKETCH_27_H)
    extrude(amount=-CUT_EXTRUDE_21_DEPTH, mode=Mode.SUBTRACT)

    # 草图28 → 切除-拉伸22 (cut)
    with BuildSketch(Plane(origin=(0, 0, 0), x_dir=(0, 0, -1), z_dir=(1, 0, 0)).offset(CUT_EXTRUDE_START)):
        Rectangle(SKETCH_28_W, SKETCH_28_H)
    extrude(amount=CUT_EXTRUDE_22_DEPTH, mode=Mode.SUBTRACT)


solid = part.part
